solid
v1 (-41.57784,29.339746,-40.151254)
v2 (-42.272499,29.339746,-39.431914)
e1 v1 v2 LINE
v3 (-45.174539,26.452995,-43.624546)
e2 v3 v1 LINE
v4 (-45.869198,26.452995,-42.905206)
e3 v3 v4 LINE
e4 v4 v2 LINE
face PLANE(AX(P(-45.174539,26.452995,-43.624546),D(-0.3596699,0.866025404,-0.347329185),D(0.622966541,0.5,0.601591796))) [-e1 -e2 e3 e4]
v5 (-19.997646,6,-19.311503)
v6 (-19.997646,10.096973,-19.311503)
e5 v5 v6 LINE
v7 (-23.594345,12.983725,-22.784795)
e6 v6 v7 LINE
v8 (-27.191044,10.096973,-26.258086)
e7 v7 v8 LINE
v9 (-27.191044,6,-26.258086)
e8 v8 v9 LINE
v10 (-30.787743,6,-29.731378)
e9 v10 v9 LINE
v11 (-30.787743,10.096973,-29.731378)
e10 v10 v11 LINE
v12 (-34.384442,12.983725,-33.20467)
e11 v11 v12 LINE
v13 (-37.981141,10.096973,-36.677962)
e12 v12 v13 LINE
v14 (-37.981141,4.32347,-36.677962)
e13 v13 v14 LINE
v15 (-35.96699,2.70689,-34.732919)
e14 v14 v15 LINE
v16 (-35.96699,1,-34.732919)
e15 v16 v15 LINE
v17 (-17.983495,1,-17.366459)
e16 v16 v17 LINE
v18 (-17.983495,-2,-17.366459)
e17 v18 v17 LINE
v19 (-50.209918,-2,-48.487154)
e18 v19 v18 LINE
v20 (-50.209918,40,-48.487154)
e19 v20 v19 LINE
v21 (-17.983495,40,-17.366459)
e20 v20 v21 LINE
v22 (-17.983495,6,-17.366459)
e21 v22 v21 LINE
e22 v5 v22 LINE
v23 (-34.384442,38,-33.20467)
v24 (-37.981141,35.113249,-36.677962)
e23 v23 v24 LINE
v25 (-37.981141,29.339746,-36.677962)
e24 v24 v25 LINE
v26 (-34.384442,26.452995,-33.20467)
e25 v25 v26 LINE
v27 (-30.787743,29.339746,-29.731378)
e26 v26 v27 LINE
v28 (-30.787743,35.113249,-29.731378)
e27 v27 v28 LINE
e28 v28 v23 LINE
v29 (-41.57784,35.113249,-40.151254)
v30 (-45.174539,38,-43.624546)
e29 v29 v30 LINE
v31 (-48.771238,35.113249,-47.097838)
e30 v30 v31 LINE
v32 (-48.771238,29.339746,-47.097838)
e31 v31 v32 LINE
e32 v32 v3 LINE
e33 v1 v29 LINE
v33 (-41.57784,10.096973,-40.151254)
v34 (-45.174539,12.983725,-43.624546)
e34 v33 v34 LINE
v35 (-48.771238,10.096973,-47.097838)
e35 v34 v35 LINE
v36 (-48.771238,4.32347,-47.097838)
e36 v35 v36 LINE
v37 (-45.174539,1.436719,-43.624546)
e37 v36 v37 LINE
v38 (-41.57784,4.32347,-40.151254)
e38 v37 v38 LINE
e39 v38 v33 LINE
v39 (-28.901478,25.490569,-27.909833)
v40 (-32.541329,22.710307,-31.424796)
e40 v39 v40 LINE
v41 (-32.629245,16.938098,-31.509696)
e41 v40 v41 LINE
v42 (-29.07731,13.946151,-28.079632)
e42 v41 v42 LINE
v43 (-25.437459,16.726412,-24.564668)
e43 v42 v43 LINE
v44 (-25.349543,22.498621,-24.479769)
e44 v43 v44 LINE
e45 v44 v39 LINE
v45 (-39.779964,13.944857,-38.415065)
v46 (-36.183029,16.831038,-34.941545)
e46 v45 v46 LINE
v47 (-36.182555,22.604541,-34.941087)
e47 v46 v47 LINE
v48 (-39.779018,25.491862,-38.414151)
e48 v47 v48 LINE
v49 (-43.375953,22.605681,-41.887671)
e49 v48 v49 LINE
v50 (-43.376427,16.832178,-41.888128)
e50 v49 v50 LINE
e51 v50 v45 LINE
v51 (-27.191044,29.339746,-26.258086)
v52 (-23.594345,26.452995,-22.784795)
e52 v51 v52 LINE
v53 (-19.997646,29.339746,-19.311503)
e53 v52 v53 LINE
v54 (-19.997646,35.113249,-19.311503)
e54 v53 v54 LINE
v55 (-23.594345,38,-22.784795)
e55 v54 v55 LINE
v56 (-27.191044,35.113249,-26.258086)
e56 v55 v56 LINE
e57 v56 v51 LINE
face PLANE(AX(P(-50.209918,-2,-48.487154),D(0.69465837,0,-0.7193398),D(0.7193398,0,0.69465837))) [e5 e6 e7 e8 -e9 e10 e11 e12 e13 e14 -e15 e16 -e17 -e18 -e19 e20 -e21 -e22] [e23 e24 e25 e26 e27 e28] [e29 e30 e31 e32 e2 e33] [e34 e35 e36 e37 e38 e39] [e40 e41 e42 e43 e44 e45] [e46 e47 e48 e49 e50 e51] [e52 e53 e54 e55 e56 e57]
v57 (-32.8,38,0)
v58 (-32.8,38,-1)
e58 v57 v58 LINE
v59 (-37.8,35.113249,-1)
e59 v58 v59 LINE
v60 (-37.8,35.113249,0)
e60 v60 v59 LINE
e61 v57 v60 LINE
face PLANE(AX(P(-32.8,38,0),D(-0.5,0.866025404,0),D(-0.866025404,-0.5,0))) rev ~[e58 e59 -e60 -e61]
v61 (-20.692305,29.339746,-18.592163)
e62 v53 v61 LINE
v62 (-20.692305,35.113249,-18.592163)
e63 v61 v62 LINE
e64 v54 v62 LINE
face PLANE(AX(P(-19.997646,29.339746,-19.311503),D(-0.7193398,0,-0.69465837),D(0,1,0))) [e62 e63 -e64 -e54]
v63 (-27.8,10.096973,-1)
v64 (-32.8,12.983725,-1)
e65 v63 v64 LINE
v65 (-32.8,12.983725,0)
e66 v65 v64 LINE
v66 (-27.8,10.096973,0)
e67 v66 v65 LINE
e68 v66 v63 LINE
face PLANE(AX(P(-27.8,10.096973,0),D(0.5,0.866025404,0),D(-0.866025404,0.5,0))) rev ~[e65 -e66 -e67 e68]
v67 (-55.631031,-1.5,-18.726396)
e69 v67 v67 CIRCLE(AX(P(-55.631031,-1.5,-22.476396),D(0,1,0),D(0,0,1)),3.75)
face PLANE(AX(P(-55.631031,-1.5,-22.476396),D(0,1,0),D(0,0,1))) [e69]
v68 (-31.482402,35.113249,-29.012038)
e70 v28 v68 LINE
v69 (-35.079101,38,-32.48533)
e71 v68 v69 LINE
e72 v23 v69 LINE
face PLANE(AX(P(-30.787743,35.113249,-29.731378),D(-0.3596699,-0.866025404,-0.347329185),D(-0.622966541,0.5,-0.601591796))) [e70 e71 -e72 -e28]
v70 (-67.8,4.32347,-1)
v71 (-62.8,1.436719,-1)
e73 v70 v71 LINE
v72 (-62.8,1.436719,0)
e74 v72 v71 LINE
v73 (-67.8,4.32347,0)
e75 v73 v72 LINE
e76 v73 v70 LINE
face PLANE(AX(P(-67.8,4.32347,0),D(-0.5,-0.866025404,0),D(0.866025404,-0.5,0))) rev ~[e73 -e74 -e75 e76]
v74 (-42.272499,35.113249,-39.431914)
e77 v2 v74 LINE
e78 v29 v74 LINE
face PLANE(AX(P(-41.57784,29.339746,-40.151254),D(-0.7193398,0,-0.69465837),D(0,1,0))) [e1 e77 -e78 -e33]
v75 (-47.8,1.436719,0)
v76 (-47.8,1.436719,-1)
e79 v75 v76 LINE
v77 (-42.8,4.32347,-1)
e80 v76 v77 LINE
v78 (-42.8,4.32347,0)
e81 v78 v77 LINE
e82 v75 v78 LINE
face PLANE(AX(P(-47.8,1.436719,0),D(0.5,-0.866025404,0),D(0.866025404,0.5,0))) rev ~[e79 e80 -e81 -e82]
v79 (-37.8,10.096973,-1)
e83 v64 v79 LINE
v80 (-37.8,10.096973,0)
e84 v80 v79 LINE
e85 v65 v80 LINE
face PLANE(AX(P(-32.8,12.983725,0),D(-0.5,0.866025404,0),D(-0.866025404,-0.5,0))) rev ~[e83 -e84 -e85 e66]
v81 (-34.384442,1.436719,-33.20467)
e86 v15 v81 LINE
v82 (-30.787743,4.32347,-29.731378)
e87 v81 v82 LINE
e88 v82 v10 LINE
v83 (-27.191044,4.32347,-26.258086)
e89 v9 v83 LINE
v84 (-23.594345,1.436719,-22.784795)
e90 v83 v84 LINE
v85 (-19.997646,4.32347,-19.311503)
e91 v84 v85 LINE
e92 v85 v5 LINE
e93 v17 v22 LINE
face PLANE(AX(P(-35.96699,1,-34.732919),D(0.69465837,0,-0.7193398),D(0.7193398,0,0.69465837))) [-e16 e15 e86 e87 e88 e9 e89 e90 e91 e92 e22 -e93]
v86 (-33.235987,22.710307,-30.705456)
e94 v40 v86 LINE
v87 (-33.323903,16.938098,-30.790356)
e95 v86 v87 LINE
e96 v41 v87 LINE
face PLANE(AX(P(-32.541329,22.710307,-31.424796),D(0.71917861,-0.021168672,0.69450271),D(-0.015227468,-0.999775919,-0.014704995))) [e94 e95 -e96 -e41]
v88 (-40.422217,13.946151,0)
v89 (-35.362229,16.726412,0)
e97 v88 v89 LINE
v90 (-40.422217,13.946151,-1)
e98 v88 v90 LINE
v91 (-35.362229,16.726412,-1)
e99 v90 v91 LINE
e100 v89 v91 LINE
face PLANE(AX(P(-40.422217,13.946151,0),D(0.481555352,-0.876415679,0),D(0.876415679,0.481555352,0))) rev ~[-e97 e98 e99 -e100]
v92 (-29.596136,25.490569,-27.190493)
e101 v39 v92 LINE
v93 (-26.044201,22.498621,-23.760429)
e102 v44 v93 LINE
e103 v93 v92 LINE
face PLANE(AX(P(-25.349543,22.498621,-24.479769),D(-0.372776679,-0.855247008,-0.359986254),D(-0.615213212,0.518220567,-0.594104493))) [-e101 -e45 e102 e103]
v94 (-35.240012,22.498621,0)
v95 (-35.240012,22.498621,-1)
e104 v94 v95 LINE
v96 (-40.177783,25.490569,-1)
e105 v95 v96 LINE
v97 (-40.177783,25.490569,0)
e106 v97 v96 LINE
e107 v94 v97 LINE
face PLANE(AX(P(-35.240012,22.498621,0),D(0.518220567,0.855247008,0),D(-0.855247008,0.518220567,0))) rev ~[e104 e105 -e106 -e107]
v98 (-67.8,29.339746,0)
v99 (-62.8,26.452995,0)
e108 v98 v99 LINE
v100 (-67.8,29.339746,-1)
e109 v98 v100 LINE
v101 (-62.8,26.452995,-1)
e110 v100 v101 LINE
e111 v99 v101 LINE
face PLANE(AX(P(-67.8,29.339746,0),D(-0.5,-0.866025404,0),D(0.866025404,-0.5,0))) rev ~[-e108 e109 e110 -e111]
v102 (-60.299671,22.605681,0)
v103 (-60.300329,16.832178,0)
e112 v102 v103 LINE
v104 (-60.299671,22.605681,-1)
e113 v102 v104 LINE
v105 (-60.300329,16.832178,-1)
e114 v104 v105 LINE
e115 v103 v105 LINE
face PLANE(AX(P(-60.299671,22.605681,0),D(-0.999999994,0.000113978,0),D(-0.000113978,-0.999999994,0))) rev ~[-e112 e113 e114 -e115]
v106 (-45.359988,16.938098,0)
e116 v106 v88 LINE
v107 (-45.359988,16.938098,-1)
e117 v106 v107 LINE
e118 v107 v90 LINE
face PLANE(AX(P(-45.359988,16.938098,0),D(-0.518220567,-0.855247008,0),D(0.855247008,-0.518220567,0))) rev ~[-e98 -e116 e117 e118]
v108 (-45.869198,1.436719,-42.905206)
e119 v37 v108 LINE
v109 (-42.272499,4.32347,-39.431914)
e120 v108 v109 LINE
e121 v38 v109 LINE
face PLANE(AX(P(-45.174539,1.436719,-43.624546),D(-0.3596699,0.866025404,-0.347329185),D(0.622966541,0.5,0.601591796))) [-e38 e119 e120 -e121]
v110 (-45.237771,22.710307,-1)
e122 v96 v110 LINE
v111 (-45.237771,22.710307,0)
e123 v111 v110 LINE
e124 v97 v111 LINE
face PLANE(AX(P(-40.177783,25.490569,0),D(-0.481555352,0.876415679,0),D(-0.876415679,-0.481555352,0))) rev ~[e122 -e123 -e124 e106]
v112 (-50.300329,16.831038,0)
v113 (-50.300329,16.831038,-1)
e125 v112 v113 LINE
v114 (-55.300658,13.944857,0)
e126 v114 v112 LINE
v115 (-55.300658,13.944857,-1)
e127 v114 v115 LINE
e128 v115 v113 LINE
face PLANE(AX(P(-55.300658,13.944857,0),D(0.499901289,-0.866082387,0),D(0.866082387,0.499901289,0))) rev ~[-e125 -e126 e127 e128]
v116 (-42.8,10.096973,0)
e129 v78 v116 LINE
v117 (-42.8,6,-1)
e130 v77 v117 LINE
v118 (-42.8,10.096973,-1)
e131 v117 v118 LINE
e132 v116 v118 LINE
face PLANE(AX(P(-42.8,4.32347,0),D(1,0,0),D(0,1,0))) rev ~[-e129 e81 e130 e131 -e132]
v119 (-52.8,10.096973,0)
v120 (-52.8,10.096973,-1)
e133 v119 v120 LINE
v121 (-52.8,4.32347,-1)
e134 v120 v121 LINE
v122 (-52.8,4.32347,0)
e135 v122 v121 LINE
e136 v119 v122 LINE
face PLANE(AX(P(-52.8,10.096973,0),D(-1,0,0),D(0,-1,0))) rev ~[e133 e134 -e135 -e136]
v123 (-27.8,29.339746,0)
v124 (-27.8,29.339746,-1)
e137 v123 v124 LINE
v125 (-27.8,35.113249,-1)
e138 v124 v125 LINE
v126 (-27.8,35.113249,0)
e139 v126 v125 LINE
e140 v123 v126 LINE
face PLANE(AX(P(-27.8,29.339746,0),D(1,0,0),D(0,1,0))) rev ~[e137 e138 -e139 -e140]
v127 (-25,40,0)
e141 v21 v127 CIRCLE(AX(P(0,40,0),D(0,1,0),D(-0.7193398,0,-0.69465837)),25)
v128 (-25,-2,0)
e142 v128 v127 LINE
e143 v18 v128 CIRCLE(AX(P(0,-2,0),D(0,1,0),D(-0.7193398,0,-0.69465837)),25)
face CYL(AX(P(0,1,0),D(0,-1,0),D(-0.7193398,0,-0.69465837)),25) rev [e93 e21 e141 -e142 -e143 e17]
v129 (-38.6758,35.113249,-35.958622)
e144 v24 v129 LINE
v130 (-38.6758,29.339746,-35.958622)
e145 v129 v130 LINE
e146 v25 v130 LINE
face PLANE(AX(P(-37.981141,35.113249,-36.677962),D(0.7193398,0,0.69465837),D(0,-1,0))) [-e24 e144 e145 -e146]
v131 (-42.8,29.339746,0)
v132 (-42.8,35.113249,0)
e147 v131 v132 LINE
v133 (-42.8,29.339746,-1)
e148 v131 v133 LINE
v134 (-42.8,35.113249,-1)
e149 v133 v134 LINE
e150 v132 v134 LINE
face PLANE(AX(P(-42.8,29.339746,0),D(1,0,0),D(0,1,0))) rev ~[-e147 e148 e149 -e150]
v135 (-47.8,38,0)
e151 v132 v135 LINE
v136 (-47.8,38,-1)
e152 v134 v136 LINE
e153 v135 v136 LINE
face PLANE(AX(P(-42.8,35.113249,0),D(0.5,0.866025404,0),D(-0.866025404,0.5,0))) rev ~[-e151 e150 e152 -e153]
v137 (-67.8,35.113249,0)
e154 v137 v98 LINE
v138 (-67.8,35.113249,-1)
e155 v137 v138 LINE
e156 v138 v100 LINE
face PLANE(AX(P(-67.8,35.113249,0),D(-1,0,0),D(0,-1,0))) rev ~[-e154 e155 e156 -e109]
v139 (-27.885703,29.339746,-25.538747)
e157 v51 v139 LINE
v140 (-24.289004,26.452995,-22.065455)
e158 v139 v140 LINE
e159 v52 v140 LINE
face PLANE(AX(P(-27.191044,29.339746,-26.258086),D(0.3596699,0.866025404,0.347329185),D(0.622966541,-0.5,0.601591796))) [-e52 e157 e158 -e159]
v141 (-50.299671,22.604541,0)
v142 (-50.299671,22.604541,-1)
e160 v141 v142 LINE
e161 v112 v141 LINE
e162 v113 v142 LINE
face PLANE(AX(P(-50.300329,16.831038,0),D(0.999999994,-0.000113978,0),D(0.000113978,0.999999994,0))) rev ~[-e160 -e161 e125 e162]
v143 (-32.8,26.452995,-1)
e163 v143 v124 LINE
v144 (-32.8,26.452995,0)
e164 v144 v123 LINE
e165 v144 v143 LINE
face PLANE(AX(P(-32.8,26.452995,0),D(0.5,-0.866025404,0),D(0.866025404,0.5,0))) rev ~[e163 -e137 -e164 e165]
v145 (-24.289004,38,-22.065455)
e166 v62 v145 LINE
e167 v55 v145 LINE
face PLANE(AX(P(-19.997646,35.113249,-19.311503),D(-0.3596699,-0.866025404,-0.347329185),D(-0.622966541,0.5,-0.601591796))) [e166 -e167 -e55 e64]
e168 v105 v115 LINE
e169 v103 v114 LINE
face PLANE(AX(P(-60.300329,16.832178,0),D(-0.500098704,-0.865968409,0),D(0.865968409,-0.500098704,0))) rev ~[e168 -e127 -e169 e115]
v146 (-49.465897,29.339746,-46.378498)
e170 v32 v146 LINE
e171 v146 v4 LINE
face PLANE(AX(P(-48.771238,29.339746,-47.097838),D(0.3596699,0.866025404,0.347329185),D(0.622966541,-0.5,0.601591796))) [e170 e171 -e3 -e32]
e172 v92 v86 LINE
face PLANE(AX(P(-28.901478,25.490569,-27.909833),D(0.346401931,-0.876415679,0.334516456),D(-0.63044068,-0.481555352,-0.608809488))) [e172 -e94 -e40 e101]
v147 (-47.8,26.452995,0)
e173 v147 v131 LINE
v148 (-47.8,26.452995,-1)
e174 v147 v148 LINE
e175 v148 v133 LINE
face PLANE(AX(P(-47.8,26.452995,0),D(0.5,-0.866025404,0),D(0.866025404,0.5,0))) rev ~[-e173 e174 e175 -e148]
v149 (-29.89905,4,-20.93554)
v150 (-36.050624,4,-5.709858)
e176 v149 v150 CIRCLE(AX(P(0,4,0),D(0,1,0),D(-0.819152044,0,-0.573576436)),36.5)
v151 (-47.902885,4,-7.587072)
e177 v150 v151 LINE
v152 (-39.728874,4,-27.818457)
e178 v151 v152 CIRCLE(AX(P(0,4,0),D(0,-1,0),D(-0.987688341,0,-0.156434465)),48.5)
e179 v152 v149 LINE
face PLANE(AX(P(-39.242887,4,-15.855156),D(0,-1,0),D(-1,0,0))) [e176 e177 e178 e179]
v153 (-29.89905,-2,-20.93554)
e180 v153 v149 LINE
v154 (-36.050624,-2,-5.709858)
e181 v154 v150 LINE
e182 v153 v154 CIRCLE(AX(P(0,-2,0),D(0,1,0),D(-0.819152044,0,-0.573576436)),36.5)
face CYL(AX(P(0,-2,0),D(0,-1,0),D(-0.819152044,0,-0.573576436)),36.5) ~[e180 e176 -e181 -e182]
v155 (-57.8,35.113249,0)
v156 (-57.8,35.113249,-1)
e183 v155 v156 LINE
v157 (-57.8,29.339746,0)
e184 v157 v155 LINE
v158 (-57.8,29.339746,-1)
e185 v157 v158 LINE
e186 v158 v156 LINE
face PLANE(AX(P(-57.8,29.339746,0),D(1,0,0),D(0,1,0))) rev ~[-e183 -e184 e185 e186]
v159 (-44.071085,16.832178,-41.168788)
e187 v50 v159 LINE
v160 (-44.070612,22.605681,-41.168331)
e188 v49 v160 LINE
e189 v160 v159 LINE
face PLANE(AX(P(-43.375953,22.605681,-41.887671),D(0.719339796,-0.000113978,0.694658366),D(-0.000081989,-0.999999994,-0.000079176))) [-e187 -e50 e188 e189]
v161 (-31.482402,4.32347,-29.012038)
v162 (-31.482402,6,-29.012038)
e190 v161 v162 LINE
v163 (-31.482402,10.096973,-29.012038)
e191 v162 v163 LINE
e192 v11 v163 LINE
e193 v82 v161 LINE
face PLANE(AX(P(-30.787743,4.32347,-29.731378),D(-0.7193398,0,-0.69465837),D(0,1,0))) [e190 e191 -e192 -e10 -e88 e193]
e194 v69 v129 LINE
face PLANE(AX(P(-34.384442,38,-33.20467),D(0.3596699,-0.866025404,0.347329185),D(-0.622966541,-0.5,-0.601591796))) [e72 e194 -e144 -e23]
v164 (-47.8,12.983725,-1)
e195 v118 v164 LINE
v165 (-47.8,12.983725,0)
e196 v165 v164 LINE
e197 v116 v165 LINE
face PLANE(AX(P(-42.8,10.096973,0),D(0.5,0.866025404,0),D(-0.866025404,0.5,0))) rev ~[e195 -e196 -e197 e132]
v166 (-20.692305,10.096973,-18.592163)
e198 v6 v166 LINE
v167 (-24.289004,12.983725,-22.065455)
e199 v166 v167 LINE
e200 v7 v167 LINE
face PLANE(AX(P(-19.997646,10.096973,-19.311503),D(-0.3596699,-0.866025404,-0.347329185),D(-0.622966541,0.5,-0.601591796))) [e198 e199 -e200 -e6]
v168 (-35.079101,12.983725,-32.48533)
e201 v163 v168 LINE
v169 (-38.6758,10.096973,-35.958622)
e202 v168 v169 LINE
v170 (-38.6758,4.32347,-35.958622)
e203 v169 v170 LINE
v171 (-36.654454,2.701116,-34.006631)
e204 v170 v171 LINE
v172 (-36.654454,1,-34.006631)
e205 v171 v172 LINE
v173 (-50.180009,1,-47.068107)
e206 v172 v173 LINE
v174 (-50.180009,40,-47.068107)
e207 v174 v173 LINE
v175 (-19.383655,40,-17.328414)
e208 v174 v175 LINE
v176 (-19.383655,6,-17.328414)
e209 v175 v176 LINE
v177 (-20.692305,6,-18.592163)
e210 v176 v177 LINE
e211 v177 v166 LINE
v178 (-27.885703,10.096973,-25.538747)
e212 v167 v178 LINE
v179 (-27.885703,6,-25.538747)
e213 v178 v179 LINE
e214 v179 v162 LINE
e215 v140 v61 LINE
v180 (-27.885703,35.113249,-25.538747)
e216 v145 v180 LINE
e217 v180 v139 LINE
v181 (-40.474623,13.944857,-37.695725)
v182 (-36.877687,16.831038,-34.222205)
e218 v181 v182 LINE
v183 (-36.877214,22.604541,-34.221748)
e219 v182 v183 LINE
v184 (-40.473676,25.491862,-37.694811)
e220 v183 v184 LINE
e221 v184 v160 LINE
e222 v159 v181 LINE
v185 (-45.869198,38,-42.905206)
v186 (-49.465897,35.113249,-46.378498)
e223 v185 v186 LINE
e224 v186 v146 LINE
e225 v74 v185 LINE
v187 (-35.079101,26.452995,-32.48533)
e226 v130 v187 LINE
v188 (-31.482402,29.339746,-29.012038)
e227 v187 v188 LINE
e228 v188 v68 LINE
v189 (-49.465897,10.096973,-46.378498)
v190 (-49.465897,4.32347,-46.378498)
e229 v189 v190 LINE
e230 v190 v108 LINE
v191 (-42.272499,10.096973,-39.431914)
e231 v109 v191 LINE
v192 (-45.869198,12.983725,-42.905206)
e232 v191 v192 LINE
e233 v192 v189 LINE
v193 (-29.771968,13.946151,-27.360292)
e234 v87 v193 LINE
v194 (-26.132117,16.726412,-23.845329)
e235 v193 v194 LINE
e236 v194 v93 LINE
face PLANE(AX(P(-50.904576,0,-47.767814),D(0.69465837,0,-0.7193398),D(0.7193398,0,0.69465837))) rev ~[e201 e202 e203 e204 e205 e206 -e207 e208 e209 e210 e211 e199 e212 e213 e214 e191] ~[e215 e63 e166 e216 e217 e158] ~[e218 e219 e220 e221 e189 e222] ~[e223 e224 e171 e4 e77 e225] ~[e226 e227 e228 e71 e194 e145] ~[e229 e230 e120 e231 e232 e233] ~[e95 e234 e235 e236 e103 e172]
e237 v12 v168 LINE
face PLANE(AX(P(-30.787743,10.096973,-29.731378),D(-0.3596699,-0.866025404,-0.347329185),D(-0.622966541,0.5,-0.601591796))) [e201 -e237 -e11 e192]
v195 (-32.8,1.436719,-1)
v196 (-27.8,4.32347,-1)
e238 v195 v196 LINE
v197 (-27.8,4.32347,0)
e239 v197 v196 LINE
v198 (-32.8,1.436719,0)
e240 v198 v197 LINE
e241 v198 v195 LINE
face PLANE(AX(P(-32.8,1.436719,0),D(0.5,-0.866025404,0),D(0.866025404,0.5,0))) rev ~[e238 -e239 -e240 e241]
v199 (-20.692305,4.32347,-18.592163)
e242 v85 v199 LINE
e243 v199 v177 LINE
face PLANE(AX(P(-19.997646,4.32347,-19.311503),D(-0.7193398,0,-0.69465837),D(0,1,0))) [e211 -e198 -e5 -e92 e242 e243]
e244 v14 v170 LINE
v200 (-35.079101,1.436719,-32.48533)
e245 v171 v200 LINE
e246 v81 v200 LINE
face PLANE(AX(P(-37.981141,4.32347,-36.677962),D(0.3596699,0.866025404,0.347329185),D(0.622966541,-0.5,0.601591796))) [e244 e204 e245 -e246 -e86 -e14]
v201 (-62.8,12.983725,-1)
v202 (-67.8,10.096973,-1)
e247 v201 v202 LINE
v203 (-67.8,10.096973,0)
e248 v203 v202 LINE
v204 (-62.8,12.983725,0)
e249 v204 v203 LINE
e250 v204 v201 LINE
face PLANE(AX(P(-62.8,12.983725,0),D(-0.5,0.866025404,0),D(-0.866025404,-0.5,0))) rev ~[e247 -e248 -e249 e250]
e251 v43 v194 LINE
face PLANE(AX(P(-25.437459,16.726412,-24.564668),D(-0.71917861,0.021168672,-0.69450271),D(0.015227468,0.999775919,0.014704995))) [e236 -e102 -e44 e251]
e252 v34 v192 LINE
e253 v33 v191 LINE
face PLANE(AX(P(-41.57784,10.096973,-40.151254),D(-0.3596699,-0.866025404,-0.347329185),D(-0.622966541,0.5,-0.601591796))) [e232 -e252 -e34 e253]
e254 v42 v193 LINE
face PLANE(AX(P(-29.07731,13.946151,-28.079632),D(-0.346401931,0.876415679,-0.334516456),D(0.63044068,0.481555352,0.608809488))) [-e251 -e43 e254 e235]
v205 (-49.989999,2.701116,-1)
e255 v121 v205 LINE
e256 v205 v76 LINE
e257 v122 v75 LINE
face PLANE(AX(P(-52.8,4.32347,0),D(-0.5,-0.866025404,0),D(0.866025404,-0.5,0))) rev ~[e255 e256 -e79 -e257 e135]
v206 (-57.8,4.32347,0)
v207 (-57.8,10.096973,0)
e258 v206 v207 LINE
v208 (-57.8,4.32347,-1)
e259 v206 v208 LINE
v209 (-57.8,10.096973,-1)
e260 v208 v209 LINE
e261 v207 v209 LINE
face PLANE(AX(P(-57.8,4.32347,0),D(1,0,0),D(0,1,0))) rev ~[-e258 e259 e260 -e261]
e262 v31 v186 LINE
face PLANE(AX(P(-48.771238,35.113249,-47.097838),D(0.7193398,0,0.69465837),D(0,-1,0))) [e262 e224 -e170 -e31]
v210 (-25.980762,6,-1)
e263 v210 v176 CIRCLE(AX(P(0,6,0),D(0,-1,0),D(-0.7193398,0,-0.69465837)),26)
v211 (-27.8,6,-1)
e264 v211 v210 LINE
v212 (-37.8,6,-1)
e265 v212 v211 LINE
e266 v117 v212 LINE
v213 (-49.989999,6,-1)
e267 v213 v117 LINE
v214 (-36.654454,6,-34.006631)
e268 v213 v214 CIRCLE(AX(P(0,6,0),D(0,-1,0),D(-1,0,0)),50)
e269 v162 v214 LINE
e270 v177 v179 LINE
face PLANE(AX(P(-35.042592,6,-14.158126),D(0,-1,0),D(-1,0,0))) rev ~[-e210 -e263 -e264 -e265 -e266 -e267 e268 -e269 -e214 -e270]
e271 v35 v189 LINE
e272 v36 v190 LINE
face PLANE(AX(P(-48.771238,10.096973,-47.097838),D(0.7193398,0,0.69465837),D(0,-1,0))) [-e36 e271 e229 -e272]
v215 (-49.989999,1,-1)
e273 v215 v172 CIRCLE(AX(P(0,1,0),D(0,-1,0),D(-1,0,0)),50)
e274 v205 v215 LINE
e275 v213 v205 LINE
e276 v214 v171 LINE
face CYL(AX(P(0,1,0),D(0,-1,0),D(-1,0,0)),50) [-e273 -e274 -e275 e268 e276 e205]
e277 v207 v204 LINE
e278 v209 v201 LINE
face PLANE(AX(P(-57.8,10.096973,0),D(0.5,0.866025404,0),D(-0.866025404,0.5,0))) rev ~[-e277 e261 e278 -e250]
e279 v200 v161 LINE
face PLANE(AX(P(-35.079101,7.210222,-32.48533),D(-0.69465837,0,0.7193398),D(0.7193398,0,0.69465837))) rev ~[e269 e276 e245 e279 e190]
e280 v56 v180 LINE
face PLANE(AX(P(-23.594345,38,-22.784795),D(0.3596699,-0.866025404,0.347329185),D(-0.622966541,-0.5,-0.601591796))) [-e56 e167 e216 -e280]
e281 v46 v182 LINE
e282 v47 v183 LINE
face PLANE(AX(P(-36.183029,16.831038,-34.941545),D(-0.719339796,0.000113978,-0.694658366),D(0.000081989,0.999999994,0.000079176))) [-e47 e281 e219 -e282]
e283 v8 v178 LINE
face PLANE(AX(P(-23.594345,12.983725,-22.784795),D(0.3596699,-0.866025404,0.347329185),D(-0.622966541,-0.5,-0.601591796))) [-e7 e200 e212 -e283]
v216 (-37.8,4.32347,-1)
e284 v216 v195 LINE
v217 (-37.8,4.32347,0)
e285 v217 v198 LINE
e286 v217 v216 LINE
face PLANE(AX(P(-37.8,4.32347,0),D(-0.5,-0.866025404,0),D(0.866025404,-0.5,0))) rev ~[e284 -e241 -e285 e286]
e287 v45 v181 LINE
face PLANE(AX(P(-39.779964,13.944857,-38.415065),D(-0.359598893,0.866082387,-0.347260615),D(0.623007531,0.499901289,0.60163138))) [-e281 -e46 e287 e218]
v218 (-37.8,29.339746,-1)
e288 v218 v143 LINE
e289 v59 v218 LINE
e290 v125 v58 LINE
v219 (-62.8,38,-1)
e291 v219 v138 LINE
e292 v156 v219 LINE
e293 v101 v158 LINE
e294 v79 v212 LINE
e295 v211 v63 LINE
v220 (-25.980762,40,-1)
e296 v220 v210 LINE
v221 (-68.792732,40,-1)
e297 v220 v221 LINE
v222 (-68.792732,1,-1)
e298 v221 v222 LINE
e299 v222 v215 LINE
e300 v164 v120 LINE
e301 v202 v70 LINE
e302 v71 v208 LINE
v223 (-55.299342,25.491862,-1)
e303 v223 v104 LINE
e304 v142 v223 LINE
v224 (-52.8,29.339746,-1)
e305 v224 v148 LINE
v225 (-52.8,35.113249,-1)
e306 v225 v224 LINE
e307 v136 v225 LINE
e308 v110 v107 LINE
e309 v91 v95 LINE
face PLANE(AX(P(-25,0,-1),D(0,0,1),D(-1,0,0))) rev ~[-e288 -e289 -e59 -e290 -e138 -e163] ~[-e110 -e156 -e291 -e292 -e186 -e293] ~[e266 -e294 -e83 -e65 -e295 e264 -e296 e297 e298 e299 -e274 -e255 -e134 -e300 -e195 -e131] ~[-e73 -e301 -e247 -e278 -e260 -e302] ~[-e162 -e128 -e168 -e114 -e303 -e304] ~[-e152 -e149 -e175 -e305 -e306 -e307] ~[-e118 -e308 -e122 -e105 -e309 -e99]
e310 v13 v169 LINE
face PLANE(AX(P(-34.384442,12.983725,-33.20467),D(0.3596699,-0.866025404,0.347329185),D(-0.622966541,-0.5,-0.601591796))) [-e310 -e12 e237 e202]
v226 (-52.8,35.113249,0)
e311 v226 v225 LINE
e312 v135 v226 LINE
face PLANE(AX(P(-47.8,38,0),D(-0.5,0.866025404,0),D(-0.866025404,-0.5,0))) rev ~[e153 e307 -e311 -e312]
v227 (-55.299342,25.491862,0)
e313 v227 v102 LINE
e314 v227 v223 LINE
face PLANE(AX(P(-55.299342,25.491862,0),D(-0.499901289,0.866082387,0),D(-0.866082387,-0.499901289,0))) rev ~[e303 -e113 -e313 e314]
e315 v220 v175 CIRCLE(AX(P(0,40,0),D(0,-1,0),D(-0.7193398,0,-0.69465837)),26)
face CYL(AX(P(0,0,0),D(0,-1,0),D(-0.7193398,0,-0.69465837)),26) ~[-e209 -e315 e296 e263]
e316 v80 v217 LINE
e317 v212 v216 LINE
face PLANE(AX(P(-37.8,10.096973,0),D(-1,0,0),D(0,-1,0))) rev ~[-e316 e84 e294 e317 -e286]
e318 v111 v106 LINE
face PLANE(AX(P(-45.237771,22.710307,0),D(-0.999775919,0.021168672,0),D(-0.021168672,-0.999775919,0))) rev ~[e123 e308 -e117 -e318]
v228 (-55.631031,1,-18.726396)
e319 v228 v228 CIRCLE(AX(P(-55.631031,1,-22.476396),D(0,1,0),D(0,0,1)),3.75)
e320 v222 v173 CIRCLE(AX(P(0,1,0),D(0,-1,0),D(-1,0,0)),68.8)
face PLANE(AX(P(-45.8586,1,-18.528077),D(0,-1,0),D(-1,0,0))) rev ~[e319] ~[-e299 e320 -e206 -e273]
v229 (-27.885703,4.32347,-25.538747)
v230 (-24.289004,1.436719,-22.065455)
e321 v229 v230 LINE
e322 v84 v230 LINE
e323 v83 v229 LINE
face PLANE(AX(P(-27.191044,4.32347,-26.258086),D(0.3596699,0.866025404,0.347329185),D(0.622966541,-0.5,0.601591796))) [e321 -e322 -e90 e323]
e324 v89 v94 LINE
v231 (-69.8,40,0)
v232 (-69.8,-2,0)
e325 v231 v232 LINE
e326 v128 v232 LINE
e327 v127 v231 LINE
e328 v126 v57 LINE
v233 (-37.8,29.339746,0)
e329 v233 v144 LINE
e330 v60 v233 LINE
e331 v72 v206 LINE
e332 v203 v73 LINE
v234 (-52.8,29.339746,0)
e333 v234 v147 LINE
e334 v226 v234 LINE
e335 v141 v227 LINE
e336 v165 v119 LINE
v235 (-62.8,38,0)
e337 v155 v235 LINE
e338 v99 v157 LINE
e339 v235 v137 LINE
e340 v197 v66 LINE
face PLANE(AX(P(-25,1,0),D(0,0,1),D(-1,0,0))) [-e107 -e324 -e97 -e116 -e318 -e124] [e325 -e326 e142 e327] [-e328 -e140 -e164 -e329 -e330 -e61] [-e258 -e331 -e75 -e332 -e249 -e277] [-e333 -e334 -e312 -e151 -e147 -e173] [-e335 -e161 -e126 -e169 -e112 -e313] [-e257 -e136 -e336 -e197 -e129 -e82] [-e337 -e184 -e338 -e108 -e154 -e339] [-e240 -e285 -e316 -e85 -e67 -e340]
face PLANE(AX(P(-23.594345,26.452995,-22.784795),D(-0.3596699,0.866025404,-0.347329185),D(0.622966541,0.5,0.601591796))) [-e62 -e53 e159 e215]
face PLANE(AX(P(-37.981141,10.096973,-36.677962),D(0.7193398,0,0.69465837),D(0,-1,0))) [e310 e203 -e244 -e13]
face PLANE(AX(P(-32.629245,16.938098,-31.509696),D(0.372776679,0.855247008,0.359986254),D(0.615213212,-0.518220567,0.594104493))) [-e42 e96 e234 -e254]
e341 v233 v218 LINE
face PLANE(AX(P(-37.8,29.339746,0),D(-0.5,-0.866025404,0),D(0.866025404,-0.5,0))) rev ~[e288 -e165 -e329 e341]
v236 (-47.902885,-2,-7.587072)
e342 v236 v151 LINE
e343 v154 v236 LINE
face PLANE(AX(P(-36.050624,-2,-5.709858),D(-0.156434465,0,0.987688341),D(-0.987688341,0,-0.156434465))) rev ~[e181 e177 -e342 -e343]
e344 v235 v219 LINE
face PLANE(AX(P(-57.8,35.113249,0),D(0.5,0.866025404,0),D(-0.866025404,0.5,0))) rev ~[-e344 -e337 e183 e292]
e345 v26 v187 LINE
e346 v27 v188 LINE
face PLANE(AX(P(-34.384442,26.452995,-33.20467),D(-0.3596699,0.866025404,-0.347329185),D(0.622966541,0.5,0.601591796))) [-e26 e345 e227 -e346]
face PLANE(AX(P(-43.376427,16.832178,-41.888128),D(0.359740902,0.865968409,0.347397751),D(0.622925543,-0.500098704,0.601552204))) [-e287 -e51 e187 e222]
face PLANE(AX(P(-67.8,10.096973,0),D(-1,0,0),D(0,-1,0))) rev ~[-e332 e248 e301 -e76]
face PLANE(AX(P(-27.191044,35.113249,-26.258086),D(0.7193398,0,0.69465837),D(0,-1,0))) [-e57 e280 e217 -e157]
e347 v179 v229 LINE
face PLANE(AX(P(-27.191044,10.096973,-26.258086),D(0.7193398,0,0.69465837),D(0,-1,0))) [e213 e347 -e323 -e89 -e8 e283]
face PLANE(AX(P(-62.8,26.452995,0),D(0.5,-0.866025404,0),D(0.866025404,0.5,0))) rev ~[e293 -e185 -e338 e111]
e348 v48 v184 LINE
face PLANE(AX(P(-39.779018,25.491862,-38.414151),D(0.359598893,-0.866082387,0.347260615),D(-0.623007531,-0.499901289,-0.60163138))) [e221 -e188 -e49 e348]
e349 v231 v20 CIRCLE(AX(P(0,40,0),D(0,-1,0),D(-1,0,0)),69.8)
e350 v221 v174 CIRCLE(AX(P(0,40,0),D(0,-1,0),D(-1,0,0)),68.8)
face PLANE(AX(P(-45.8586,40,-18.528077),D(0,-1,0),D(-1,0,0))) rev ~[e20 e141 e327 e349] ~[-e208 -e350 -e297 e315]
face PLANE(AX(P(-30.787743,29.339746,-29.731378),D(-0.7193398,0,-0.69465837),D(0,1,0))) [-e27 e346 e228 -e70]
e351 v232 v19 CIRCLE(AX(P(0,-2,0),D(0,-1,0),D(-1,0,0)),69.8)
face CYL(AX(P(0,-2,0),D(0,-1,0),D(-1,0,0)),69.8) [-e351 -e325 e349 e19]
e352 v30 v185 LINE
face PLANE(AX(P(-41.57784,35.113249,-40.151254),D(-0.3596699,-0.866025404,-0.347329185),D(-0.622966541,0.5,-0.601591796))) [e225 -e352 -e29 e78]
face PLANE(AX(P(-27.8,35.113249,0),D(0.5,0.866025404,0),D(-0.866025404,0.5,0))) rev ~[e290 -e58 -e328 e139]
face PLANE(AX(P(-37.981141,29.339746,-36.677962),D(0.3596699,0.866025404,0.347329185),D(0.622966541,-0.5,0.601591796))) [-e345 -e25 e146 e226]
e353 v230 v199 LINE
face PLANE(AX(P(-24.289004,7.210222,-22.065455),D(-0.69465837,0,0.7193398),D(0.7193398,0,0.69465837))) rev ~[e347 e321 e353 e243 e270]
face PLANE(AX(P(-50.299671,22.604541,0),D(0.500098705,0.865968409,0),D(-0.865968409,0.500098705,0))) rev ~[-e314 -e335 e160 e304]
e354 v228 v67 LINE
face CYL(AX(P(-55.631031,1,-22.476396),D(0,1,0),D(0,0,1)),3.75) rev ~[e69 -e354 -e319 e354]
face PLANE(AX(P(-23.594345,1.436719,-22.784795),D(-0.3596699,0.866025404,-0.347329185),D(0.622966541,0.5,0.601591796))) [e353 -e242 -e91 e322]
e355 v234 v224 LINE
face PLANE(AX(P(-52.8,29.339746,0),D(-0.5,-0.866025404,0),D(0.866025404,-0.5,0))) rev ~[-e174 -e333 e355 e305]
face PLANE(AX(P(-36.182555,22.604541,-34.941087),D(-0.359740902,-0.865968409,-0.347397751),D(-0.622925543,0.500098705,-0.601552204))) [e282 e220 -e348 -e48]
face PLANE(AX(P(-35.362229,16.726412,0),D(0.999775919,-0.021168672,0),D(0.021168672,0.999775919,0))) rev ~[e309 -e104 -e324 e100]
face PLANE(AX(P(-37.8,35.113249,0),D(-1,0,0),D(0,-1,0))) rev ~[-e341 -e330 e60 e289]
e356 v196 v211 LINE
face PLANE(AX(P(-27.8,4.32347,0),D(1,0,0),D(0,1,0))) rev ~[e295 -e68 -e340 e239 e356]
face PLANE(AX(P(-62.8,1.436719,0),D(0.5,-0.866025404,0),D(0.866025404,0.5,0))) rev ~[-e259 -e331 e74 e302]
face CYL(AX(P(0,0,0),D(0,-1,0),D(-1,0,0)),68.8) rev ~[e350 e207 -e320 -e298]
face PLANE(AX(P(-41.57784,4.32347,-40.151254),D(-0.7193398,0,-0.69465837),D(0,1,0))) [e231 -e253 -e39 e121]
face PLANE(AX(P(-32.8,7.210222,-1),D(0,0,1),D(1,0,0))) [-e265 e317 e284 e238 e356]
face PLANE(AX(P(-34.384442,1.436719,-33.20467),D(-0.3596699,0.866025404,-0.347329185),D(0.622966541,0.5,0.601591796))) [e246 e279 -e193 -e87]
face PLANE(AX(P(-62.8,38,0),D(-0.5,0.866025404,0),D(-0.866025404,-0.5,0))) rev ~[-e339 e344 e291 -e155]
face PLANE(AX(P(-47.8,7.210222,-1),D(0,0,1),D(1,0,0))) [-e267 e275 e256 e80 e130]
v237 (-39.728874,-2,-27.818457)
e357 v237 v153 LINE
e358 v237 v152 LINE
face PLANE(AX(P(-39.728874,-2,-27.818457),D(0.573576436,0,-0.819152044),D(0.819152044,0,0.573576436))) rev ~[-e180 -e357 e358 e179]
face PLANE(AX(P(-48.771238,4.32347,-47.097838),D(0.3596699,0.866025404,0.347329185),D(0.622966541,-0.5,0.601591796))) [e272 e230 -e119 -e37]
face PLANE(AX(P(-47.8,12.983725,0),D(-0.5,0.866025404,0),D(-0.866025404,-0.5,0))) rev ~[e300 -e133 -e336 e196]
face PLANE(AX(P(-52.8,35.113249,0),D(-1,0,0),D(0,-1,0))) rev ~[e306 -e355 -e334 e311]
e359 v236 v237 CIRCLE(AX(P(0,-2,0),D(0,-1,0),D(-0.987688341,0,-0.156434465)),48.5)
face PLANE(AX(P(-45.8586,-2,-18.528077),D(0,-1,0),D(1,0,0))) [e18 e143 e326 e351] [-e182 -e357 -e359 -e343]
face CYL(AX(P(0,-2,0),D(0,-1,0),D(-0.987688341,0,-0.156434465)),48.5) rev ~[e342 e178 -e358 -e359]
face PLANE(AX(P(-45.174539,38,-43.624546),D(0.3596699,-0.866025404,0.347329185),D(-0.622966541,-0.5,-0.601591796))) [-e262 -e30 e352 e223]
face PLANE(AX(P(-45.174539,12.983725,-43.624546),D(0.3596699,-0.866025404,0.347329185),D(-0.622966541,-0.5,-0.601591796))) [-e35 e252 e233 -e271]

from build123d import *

# Parameters (mm, degrees)
SALIENTE_EXTRUIR1_DEPTH = 40
VACIADO1_T              = -1
SALIENTE_EXTRUIR3_START = 2
SALIENTE_EXTRUIR3_DEPTH = 2
CROQUIS5_R              = 3.75
CORTAR_EXTRUIR2_DEPTH   = 2.5
SALIENTE_EXTRUIR5_DEPTH = 5
CORTAR_EXTRUIR3_DEPTH   = 6
CORTAR_EXTRUIR4_DEPTH   = 1
CORTAR_EXTRUIR5_DEPTH   = 1


with BuildPart() as part:
    # Croquis1 → Saliente-Extruir1 (new body)
    with BuildSketch(Plane(origin=(0, 0, 0), x_dir=(1, 0, 0), z_dir=(0, 1, 0))):
        with BuildLine():
            Line((-25, 0), (-69.8, 0))
            ThreePointArc((-69.8, 0), (-64.717433049, 26.14754022), (-50.209918064, 48.487154258))
            Line((-50.209918064, 48.487154258), (-17.983495008, 17.366459261))
            ThreePointArc((-17.983495008, 17.366459261), (-23.179596364, 9.365164835), (-25, 0))
        make_face()
    extrude(amount=SALIENTE_EXTRUIR1_DEPTH)

    # Vaciado1
    vaciado1_openings = [part.faces().sort_by_distance(p)[0] for p in [
        (-46.068338787, 40, -18.61281705),
    ]]
    offset(amount=VACIADO1_T, openings=vaciado1_openings, kind=Kind.INTERSECTION)

    # Croquis4 → Saliente-Extruir3 (add)
    with BuildSketch(Plane.XZ.offset(SALIENTE_EXTRUIR3_START)):
        with BuildLine():
            Line((-25, 0), (-69.8, 0))
            ThreePointArc((-69.8, 0), (-64.717433049, -26.14754022), (-50.209918064, -48.487154258))
            Line((-50.209918064, -48.487154258), (-17.983495008, -17.366459261))
            ThreePointArc((-17.983495008, -17.366459261), (-23.179596364, -9.365164835), (-25, 0))
        make_face()
    extrude(amount=-SALIENTE_EXTRUIR3_DEPTH)

    # Croquis5 → Cortar-Extruir2 (cut)
    with BuildSketch(Plane(origin=(0, 1, 0), x_dir=(1, 0, 0), z_dir=(0, 1, 0))):
        with Locations(Location((-55.631031274, 22.476395605, 0), (0, 0, 270))):
            Circle(CROQUIS5_R)
    extrude(amount=-CORTAR_EXTRUIR2_DEPTH, mode=Mode.SUBTRACT)

    # Croquis6 → Saliente-Extruir5 (add)
    with BuildSketch(Plane(origin=(0, 1, 0), x_dir=(1, 0, 0), z_dir=(0, 1, 0))):
        with BuildLine():
            Line((-25, 0), (-50, 0))
            ThreePointArc((-50, 0), (-46.359192728, 18.730329671), (-35.966990017, 34.732918523))
            Line((-35.966990017, 34.732918523), (-17.983495008, 17.366459261))
            ThreePointArc((-17.983495008, 17.366459261), (-23.179596364, 9.365164835), (-25, 0))
        make_face()
    extrude(amount=SALIENTE_EXTRUIR5_DEPTH)

    # Croquis2 → Cortar-Extruir3 (cut)
    with BuildSketch(Plane(origin=(0, -2, 0), x_dir=(1, 0, 0), z_dir=(0, 1, 0))):
        with BuildLine():
            Line((-39.728874148, 27.818457163), (-29.899049617, 20.935539927))
            ThreePointArc((-29.899049617, 20.935539927), (-33.842210692, 13.67314066), (-36.050624432, 5.709857974))
            Line((-36.050624432, 5.709857974), (-47.902884519, 7.587071554))
            ThreePointArc((-47.902884519, 7.587071554), (-44.968416946, 18.168419781), (-39.728874148, 27.818457163))
        make_face()
    extrude(amount=CORTAR_EXTRUIR3_DEPTH, mode=Mode.SUBTRACT)

    # Croquis7 → Cortar-Extruir4 (cut)
    with BuildSketch(Plane.XY):
        Polygon((-62.8, 38), (-67.8, 35.113248654), (-67.8, 29.339745962), (-62.8, 26.452994616), (-57.8, 29.339745962), (-57.8, 35.113248654), align=None)
        Polygon((-47.8, 38), (-52.8, 35.113248654), (-52.8, 29.339745962), (-47.8, 26.452994616), (-42.8, 29.339745962), (-42.8, 35.113248654), align=None)
        Polygon((-32.8, 38), (-37.8, 35.113248654), (-37.8, 29.339745962), (-32.8, 26.452994616), (-27.8, 29.339745962), (-27.8, 35.113248654), align=None)
        Polygon((-47.8, 12.983724512), (-52.8, 10.096973166), (-52.8, 4.323470474), (-47.8, 1.436719129), (-42.8, 4.323470474), (-42.8, 10.096973166), align=None)
        Polygon((-32.8, 12.983724512), (-37.8, 10.096973166), (-37.8, 4.323470474), (-32.8, 1.436719129), (-27.8, 4.323470474), (-27.8, 10.096973166), align=None)
        Polygon((-62.8, 12.983724512), (-67.8, 10.096973166), (-67.8, 4.323470474), (-62.8, 1.436719129), (-57.8, 4.323470474), (-57.8, 10.096973166), align=None)
        Polygon((-55.299341949, 25.491862219), (-60.299670942, 22.605680781), (-60.300328993, 16.832178126), (-55.300658051, 13.94485691), (-50.300329058, 16.831038348), (-50.299671007, 22.604541002), align=None)
        Polygon((-40.177782617, 25.490568521), (-45.237770901, 22.710307401), (-45.359988284, 16.938098444), (-40.422217383, 13.946150607), (-35.362229099, 16.726411727), (-35.240011716, 22.498620684), align=None)
    extrude(amount=-CORTAR_EXTRUIR4_DEPTH, mode=Mode.SUBTRACT)

    # Croquis8 → Cortar-Extruir5 (cut)
    with BuildSketch(Plane(origin=(0, 0, 0), x_dir=(0.7193398003386502, 0, 0.6946583704589984), z_dir=(-0.6946583704589984, 0, 0.7193398003386502))):
        Polygon((-62.8, 38), (-67.8, 35.113248654), (-67.8, 29.339745962), (-62.8, 26.452994616), (-57.8, 29.339745962), (-57.8, 35.113248654), align=None)
        Polygon((-47.8, 38), (-52.8, 35.113248654), (-52.8, 29.339745962), (-47.8, 26.452994616), (-42.8, 29.339745962), (-42.8, 35.113248654), align=None)
        Polygon((-32.8, 38), (-37.8, 35.113248654), (-37.8, 29.339745962), (-32.8, 26.452994616), (-27.8, 29.339745962), (-27.8, 35.113248654), align=None)
        Polygon((-47.8, 12.983724512), (-52.8, 10.096973166), (-52.8, 4.323470474), (-47.8, 1.436719129), (-42.8, 4.323470474), (-42.8, 10.096973166), align=None)
        Polygon((-32.8, 12.983724512), (-37.8, 10.096973166), (-37.8, 4.323470474), (-32.8, 1.436719129), (-27.8, 4.323470474), (-27.8, 10.096973166), align=None)
        Polygon((-62.8, 12.983724512), (-67.8, 10.096973166), (-67.8, 4.323470474), (-62.8, 1.436719129), (-57.8, 4.323470474), (-57.8, 10.096973166), align=None)
        Polygon((-55.299341949, 25.491862219), (-60.299670942, 22.605680781), (-60.300328993, 16.832178126), (-55.300658051, 13.94485691), (-50.300329058, 16.831038348), (-50.299671007, 22.604541002), align=None)
        Polygon((-40.177782617, 25.490568521), (-45.237770901, 22.710307401), (-45.359988284, 16.938098444), (-40.422217383, 13.946150607), (-35.362229099, 16.726411727), (-35.240011716, 22.498620684), align=None)
    extrude(amount=CORTAR_EXTRUIR5_DEPTH, mode=Mode.SUBTRACT)


solid = part.part
